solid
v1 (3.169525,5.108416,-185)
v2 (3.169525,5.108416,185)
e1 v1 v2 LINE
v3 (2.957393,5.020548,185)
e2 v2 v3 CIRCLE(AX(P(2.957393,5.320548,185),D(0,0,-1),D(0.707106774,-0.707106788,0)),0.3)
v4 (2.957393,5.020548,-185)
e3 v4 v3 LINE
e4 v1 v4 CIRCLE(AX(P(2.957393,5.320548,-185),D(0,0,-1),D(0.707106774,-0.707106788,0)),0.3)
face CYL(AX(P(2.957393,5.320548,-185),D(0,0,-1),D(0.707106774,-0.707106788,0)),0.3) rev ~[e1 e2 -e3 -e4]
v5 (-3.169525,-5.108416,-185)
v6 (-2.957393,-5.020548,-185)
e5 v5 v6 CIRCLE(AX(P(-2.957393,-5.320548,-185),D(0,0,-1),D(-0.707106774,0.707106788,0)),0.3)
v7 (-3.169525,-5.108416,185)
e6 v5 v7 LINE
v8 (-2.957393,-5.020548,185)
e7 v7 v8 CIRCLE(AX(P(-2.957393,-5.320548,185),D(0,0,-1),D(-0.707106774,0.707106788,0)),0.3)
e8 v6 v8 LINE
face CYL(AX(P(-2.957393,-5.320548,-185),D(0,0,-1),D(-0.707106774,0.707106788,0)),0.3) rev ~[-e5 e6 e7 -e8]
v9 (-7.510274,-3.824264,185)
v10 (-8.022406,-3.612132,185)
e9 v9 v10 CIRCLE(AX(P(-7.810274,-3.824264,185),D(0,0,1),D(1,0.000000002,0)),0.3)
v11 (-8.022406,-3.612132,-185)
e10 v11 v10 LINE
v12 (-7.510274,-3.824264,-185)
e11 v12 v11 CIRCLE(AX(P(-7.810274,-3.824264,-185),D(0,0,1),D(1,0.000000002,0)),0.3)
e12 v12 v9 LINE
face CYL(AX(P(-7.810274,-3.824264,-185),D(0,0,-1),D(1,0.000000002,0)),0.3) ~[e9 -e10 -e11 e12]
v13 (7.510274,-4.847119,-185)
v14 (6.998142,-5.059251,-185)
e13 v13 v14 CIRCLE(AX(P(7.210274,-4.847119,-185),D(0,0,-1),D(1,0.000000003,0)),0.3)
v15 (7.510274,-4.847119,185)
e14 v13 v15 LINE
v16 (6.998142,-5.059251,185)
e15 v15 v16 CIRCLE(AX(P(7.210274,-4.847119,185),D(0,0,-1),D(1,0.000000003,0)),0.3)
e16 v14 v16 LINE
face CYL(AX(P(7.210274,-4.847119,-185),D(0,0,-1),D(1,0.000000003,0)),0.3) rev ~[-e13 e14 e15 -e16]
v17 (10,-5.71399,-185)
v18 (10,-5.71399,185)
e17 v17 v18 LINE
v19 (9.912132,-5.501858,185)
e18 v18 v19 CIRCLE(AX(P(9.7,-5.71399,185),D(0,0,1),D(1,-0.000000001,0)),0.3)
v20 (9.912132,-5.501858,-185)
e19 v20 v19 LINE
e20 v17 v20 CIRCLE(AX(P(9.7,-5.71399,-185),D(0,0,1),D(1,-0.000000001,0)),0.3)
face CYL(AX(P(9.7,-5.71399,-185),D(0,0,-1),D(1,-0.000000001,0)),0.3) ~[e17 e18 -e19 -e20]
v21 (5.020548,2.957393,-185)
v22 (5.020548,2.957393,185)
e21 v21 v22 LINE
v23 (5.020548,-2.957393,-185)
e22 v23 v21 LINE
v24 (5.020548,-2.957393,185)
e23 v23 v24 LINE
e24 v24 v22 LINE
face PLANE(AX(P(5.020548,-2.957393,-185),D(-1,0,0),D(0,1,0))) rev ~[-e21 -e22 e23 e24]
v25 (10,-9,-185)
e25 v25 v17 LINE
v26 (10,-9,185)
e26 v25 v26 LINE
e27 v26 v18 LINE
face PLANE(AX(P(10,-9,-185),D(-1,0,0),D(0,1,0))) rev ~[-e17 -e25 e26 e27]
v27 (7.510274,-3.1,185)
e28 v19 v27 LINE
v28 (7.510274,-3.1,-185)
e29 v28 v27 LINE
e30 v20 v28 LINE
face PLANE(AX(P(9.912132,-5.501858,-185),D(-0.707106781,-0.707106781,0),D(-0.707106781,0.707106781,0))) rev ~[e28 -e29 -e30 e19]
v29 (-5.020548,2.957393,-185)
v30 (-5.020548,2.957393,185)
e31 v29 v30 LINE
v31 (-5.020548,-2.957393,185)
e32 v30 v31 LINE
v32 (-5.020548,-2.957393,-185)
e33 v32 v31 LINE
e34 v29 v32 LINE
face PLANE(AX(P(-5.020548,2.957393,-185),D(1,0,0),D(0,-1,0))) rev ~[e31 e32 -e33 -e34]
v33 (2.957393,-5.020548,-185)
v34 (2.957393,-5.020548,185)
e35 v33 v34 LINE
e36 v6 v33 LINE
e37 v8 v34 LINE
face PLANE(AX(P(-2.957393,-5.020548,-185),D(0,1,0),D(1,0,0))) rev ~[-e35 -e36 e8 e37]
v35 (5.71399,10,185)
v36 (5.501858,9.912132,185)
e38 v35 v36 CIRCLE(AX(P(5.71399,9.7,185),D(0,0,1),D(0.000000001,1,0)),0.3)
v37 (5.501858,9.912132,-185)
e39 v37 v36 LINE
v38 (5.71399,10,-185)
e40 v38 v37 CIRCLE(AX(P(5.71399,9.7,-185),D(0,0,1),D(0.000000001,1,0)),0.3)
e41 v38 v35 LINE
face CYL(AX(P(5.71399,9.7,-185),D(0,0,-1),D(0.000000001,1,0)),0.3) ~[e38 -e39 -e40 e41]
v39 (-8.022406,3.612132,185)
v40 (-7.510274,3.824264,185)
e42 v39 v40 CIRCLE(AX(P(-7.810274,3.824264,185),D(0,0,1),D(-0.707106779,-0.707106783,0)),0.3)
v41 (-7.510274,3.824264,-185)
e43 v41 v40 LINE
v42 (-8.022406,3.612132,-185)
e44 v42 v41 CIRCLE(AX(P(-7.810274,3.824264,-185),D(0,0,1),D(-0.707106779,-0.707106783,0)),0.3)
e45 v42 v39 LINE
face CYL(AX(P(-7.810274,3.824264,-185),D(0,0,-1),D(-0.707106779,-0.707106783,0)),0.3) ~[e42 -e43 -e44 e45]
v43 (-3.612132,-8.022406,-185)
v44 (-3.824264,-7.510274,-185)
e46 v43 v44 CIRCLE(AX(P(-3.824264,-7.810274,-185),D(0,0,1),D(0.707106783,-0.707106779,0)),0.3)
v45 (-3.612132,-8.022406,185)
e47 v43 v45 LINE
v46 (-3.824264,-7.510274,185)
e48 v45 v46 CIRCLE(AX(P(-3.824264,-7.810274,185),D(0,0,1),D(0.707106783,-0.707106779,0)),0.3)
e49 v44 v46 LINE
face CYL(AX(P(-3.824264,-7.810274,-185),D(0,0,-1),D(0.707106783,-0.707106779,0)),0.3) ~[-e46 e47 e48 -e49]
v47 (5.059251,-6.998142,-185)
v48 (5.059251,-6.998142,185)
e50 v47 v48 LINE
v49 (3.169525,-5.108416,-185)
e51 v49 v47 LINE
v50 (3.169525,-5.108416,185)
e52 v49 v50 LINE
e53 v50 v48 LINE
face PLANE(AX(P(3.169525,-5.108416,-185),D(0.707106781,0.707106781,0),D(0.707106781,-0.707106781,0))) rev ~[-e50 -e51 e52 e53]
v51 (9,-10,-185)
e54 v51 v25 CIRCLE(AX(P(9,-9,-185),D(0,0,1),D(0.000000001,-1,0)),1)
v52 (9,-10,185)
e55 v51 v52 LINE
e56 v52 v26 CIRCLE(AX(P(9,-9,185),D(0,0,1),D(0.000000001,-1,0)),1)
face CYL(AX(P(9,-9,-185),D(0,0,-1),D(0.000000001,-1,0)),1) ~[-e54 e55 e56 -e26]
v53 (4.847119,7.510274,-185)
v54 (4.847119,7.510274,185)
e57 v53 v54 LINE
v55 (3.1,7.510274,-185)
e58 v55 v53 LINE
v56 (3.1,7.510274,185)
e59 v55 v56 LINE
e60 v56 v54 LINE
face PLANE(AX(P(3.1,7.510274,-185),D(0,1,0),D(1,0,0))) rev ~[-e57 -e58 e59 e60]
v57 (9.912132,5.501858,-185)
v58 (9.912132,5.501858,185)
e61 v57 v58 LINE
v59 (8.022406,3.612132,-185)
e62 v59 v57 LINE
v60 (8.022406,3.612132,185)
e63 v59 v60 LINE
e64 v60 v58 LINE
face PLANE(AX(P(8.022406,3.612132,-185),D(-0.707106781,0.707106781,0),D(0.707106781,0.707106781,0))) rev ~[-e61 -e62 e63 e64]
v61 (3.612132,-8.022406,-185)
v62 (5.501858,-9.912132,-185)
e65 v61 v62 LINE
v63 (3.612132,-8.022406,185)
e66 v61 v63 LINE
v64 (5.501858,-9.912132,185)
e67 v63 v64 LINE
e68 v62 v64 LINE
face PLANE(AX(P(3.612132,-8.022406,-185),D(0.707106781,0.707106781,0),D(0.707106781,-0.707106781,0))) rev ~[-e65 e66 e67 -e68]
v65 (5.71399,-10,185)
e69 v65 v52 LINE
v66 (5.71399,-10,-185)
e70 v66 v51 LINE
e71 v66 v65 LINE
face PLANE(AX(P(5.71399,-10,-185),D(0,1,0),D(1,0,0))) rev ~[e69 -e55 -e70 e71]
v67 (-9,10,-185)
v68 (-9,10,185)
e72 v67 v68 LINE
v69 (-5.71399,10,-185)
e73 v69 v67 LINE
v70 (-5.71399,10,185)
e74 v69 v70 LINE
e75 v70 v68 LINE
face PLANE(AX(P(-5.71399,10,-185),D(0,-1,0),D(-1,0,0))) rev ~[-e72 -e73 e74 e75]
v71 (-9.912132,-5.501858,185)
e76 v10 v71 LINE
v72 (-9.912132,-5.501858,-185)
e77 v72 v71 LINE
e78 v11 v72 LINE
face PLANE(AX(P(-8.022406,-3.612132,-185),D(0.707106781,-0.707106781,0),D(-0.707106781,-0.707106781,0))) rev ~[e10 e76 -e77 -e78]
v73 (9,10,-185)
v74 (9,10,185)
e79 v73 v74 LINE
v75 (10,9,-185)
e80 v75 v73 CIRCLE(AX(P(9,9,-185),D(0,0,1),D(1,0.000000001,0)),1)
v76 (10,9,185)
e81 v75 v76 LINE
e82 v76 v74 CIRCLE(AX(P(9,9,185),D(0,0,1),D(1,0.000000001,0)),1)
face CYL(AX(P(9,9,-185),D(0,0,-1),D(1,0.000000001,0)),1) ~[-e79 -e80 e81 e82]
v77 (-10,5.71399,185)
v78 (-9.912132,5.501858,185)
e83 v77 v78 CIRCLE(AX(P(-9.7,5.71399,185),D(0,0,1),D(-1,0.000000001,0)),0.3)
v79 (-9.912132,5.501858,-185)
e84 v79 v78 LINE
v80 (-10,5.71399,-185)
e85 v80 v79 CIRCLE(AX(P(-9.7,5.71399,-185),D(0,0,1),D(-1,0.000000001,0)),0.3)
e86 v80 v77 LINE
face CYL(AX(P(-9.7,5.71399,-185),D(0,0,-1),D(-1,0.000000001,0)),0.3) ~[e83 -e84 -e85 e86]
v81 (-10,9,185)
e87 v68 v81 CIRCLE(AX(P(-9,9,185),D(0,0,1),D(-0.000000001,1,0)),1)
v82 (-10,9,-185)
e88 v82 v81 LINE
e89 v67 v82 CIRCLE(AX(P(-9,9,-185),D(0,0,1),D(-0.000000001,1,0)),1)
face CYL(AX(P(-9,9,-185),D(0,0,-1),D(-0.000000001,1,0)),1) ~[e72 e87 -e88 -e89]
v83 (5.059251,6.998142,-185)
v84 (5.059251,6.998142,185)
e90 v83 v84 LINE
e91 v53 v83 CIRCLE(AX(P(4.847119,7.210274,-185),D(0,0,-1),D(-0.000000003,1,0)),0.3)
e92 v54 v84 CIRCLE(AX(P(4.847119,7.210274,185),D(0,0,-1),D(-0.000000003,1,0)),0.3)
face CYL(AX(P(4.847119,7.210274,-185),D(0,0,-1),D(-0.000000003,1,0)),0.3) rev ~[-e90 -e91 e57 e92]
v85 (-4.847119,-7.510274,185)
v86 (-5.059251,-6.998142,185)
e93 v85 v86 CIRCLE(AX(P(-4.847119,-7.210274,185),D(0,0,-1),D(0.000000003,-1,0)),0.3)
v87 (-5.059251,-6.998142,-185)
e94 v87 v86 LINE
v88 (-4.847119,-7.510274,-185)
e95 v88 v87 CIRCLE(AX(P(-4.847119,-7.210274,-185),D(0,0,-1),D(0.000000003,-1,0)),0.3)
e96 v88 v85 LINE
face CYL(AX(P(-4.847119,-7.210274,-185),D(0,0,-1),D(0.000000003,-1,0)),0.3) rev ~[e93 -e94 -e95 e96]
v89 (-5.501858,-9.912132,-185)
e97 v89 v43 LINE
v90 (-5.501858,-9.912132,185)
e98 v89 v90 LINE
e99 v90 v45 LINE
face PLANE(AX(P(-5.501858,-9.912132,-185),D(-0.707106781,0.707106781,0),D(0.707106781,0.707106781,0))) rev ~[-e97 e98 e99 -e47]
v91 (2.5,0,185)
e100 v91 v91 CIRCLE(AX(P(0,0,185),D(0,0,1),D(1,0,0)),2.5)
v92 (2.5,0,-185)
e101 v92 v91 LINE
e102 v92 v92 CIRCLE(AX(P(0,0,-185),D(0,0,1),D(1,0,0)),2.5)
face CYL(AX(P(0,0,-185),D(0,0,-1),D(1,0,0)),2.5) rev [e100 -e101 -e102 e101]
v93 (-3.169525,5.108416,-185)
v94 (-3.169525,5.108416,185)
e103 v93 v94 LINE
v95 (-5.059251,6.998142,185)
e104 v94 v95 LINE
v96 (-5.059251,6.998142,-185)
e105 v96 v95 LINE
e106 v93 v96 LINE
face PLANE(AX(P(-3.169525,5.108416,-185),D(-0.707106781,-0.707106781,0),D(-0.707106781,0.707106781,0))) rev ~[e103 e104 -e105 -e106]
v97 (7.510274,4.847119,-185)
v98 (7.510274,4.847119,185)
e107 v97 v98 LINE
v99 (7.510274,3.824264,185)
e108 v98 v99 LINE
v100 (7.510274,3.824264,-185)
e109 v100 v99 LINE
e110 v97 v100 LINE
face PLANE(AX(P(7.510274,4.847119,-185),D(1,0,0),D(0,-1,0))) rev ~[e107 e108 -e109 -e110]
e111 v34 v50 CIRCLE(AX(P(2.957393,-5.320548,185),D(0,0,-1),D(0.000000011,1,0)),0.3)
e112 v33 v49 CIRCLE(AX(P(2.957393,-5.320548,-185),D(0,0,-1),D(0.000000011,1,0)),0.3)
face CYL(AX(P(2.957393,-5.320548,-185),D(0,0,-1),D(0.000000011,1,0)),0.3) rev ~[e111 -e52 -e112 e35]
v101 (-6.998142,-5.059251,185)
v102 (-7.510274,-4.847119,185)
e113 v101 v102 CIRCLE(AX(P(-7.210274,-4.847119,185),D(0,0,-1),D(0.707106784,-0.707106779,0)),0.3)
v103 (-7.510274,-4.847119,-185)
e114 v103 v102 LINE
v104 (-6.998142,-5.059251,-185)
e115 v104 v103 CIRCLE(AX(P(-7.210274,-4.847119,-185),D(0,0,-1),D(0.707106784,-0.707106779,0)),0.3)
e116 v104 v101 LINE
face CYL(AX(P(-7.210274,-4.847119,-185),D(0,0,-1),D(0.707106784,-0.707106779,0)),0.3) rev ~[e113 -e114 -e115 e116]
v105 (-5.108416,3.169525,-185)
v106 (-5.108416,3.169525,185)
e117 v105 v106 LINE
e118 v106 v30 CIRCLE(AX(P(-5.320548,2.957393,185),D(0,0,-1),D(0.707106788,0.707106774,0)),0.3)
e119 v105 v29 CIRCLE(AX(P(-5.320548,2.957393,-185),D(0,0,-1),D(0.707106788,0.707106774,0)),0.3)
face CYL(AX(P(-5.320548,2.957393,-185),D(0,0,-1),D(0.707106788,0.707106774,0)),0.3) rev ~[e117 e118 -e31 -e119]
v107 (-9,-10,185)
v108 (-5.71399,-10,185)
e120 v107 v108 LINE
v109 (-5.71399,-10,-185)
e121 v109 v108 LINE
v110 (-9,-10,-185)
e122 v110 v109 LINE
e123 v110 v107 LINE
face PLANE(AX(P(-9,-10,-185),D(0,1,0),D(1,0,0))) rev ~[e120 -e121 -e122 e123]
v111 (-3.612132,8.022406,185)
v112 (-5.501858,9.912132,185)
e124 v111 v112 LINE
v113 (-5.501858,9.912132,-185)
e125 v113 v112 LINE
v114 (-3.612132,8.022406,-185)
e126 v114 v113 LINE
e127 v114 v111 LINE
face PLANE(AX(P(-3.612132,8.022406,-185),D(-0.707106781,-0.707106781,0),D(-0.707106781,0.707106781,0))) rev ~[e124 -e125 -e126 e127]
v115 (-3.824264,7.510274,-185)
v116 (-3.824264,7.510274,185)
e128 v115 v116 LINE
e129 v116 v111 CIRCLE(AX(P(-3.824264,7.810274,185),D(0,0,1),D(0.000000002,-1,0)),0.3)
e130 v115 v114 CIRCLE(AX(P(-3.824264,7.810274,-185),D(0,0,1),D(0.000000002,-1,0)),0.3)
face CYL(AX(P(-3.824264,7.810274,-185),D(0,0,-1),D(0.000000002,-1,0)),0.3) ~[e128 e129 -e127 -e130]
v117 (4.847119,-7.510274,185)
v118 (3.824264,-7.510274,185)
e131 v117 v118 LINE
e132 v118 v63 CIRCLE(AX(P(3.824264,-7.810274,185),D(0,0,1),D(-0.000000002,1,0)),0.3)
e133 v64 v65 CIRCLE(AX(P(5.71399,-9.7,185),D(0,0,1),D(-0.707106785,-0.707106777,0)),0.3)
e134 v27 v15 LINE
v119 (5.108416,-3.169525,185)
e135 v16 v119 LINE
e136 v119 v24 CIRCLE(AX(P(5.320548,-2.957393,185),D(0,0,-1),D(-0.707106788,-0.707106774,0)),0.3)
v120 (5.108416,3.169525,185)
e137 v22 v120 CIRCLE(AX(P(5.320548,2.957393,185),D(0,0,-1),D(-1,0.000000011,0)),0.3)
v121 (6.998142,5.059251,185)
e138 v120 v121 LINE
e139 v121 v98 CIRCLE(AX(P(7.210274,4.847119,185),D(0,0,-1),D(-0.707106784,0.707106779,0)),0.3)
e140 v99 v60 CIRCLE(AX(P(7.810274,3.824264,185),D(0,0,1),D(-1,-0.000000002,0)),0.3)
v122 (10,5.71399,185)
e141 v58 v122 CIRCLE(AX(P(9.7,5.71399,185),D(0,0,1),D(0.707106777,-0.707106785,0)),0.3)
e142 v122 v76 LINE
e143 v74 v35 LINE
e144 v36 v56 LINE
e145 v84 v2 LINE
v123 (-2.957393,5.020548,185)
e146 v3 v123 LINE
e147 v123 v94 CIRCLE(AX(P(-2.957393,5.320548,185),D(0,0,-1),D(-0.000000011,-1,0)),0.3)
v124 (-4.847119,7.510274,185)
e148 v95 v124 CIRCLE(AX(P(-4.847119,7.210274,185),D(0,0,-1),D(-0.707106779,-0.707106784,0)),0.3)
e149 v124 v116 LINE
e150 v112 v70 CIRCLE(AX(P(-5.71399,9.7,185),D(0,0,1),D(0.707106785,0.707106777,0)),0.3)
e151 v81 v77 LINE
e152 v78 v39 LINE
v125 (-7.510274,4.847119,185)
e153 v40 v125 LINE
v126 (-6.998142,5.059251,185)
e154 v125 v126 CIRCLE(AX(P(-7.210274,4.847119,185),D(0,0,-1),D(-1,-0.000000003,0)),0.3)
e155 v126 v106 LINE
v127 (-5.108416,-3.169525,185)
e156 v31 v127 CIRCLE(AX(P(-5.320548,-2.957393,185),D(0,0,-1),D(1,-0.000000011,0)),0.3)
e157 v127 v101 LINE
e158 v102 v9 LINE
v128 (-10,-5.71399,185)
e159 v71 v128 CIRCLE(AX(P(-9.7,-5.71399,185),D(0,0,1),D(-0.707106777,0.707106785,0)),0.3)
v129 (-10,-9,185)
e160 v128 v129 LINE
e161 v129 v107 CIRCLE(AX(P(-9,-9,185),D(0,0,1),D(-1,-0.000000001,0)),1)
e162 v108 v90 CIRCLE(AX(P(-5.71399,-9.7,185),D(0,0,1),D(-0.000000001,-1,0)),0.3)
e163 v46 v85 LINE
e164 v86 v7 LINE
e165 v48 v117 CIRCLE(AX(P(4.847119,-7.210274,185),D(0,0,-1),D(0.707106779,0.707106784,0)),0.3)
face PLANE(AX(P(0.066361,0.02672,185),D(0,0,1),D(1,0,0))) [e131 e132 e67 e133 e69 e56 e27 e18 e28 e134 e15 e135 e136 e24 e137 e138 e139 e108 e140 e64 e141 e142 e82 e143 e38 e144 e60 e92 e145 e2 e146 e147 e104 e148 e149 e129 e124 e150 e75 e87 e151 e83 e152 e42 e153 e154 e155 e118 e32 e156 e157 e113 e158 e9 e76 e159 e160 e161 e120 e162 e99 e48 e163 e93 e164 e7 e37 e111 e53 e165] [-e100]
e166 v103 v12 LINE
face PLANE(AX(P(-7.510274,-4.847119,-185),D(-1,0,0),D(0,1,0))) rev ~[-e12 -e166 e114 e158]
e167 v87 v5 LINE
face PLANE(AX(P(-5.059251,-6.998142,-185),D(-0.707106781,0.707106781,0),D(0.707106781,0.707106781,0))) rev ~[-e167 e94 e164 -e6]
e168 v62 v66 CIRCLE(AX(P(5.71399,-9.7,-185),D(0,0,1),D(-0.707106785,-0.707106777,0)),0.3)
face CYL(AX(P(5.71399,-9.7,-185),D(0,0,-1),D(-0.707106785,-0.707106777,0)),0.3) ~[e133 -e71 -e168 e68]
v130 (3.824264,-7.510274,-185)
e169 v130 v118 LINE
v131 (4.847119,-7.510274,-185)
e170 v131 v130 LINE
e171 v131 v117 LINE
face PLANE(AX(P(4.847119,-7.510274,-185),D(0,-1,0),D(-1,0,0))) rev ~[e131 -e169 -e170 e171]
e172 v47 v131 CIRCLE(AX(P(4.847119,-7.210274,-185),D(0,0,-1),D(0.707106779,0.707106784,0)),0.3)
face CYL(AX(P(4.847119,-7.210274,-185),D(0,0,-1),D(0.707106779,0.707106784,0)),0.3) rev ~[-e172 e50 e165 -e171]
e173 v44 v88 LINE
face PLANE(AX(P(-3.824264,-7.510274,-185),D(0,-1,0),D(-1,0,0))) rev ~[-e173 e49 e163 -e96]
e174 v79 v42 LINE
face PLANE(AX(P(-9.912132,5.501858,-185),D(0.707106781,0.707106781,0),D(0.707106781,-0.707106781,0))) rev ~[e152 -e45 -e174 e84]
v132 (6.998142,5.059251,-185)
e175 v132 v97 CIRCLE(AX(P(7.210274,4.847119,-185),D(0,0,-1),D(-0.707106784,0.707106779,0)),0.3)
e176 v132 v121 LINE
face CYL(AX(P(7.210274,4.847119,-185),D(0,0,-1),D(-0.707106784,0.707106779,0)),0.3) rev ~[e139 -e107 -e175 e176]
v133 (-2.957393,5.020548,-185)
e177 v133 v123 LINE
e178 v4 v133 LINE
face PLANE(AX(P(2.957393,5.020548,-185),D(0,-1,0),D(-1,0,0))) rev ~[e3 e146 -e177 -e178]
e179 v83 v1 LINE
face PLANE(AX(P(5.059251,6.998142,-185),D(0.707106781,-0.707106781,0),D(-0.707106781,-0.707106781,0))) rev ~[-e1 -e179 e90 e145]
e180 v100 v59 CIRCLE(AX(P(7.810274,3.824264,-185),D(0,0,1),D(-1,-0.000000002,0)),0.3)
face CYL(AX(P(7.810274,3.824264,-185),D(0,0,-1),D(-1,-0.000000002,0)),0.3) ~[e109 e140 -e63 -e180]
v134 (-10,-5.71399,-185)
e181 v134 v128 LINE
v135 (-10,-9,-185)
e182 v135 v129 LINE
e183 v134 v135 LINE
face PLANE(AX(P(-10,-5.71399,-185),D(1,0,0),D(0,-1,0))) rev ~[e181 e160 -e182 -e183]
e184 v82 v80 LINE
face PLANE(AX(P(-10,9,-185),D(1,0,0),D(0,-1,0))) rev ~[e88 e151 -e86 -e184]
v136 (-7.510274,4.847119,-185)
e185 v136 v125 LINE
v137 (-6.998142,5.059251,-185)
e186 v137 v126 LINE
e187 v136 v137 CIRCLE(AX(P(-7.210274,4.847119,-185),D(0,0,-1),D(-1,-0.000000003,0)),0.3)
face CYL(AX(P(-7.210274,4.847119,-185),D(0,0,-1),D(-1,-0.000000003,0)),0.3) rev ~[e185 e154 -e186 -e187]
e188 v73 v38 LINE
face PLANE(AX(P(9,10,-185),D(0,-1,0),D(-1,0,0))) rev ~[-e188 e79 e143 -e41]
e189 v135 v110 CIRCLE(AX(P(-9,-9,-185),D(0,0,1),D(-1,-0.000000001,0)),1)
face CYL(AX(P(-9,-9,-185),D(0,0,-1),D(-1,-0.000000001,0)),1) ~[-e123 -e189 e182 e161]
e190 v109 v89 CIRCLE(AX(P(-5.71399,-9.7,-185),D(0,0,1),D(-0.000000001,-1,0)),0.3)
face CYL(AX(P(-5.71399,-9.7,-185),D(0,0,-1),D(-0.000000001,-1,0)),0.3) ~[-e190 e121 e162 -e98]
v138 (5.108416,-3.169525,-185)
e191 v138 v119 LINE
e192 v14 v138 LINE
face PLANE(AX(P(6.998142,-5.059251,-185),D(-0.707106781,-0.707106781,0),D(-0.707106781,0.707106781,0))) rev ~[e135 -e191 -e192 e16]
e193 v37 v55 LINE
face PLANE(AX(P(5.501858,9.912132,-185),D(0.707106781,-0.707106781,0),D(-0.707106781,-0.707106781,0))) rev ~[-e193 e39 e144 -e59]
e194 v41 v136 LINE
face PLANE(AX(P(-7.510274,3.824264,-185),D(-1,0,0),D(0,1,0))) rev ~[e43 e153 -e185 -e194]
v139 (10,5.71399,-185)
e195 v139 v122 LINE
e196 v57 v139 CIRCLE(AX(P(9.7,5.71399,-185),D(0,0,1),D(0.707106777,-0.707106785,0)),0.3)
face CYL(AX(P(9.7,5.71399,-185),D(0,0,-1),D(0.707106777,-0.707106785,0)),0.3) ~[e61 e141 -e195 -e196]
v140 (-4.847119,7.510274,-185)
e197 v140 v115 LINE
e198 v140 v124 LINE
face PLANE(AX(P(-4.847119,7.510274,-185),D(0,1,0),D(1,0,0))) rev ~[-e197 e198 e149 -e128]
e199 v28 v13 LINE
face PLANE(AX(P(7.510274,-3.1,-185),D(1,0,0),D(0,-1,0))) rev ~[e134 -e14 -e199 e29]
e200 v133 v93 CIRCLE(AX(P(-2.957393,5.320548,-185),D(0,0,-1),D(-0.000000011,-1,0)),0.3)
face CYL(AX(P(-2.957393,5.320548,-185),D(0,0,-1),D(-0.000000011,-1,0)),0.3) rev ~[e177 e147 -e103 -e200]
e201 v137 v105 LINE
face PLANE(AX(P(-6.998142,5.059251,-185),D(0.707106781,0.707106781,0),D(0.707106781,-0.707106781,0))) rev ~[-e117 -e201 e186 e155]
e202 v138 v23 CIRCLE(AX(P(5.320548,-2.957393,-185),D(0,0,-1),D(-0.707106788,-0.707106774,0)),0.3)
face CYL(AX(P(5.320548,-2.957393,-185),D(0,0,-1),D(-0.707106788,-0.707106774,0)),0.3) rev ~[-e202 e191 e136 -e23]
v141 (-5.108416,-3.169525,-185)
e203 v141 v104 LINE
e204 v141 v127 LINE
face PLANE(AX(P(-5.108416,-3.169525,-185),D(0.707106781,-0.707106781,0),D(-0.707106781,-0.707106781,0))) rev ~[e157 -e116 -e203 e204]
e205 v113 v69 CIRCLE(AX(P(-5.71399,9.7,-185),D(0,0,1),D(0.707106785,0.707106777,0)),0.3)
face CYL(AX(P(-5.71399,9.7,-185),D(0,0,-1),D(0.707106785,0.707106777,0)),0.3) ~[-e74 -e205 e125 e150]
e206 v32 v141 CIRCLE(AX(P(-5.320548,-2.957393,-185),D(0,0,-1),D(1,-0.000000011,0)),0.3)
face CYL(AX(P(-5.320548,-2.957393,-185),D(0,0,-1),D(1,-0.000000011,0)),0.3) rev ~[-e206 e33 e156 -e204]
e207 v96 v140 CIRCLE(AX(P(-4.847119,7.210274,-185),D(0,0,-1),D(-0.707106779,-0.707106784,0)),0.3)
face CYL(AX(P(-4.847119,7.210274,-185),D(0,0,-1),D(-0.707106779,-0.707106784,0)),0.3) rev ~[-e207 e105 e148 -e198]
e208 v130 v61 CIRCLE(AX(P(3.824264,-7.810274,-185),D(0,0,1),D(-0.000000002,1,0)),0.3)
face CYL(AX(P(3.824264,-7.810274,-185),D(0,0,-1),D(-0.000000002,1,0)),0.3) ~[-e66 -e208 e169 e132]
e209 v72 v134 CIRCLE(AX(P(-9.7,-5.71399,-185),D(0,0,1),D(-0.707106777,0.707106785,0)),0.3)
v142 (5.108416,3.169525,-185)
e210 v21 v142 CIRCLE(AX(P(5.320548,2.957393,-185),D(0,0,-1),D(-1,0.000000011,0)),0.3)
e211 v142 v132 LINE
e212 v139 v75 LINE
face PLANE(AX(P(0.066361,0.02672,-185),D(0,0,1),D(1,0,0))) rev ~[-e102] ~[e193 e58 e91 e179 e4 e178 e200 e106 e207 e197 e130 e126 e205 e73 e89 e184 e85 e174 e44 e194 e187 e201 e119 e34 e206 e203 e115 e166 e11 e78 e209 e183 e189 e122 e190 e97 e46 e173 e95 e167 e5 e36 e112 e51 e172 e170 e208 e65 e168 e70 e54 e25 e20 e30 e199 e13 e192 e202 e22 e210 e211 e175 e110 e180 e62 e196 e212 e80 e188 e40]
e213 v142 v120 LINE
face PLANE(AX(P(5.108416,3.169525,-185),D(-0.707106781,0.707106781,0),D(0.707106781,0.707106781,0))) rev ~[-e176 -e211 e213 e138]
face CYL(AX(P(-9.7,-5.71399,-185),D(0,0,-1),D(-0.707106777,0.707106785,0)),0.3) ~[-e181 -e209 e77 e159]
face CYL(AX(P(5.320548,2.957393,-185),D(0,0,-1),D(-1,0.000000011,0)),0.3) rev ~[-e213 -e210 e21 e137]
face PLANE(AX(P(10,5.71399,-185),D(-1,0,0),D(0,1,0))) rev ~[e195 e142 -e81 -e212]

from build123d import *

# Parameters (mm, degrees)
CROQUIS11_R                = 2.5
MIEMBRO_ESTRUCTURAL1_DEPTH = 370


with BuildPart() as part:
    # Croquis11 → Miembro estructural1 (new body)
    with BuildSketch(Plane.XY.offset(-185)):
        with BuildLine():
            Line((-9, -10), (-5.713990218, -10))
            ThreePointArc((-5.713990218, -10), (-5.599185189, -9.97716386), (-5.501858184, -9.912132034))
            Line((-5.501858184, -9.912132034), (-3.612132034, -8.022405885))
            ThreePointArc((-3.612132034, -8.022405885), (-3.547100209, -7.695468821), (-3.824264069, -7.51027385))
            Line((-3.824264069, -7.51027385), (-4.847118775, -7.51027385))
            ThreePointArc((-4.847118775, -7.51027385), (-5.124282635, -7.32507888), (-5.059250809, -6.998141816))
            Line((-5.059250809, -6.998141816), (-3.16952466, -5.108415666))
            ThreePointArc((-3.16952466, -5.108415666), (-3.072197655, -5.043383841), (-2.957392625, -5.0205477))
            Line((-2.957392625, -5.0205477), (2.957392625, -5.0205477))
            ThreePointArc((2.957392625, -5.0205477), (3.072197655, -5.043383841), (3.16952466, -5.108415666))
            Line((3.16952466, -5.108415666), (5.059250809, -6.998141816))
            ThreePointArc((5.059250809, -6.998141816), (5.124282635, -7.32507888), (4.847118775, -7.51027385))
            Line((4.847118775, -7.51027385), (3.824264069, -7.51027385))
            ThreePointArc((3.824264069, -7.51027385), (3.547100209, -7.695468821), (3.612132034, -8.022405885))
            Line((3.612132034, -8.022405885), (5.501858184, -9.912132034))
            ThreePointArc((5.501858184, -9.912132034), (5.599185189, -9.97716386), (5.713990218, -10))
            Line((5.713990218, -10), (9, -10))
            ThreePointArc((9, -10), (9.707106781, -9.707106781), (10, -9))
            Line((10, -9), (10, -5.713990218))
            ThreePointArc((10, -5.713990218), (9.97716386, -5.599185189), (9.912132034, -5.501858184))
            Line((9.912132034, -5.501858184), (7.51027385, -3.1))
            Line((7.51027385, -3.1), (7.51027385, -4.847118775))
            ThreePointArc((7.51027385, -4.847118775), (7.32507888, -5.124282635), (6.998141816, -5.059250809))
            Line((6.998141816, -5.059250809), (5.108415666, -3.16952466))
            ThreePointArc((5.108415666, -3.16952466), (5.043383841, -3.072197655), (5.0205477, -2.957392625))
            Line((5.0205477, -2.957392625), (5.0205477, 2.957392625))
            ThreePointArc((5.0205477, 2.957392625), (5.043383841, 3.072197655), (5.108415666, 3.16952466))
            Line((5.108415666, 3.16952466), (6.998141816, 5.059250809))
            ThreePointArc((6.998141816, 5.059250809), (7.32507888, 5.124282635), (7.51027385, 4.847118775))
            Line((7.51027385, 4.847118775), (7.51027385, 3.824264069))
            ThreePointArc((7.51027385, 3.824264069), (7.695468821, 3.547100209), (8.022405885, 3.612132034))
            Line((8.022405885, 3.612132034), (9.912132034, 5.501858184))
            ThreePointArc((9.912132034, 5.501858184), (9.97716386, 5.599185189), (10, 5.713990218))
            Line((10, 5.713990218), (10, 9))
            ThreePointArc((10, 9), (9.707106781, 9.707106781), (9, 10))
            Line((9, 10), (5.713990218, 10))
            ThreePointArc((5.713990218, 10), (5.599185189, 9.97716386), (5.501858184, 9.912132034))
            Line((5.501858184, 9.912132034), (3.1, 7.51027385))
            Line((3.1, 7.51027385), (4.847118775, 7.51027385))
            ThreePointArc((4.847118775, 7.51027385), (5.124282635, 7.32507888), (5.059250809, 6.998141816))
            Line((5.059250809, 6.998141816), (3.16952466, 5.108415666))
            ThreePointArc((3.16952466, 5.108415666), (3.072197655, 5.043383841), (2.957392625, 5.0205477))
            Line((2.957392625, 5.0205477), (-2.957392625, 5.0205477))
            ThreePointArc((-2.957392625, 5.0205477), (-3.072197655, 5.043383841), (-3.16952466, 5.108415666))
            Line((-3.16952466, 5.108415666), (-5.059250809, 6.998141816))
            ThreePointArc((-5.059250809, 6.998141816), (-5.124282635, 7.32507888), (-4.847118775, 7.51027385))
            Line((-4.847118775, 7.51027385), (-3.824264069, 7.51027385))
            ThreePointArc((-3.824264069, 7.51027385), (-3.547100209, 7.695468821), (-3.612132034, 8.022405885))
            Line((-3.612132034, 8.022405885), (-5.501858184, 9.912132034))
            ThreePointArc((-5.501858184, 9.912132034), (-5.599185189, 9.97716386), (-5.713990218, 10))
            Line((-5.713990218, 10), (-9, 10))
            ThreePointArc((-9, 10), (-9.707106781, 9.707106781), (-10, 9))
            Line((-10, 9), (-10, 5.713990218))
            ThreePointArc((-10, 5.713990218), (-9.97716386, 5.599185189), (-9.912132034, 5.501858184))
            Line((-9.912132034, 5.501858184), (-8.022405885, 3.612132034))
            ThreePointArc((-8.022405885, 3.612132034), (-7.695468821, 3.547100209), (-7.51027385, 3.824264069))
            Line((-7.51027385, 3.824264069), (-7.51027385, 4.847118775))
            ThreePointArc((-7.51027385, 4.847118775), (-7.32507888, 5.124282635), (-6.998141816, 5.059250809))
            Line((-6.998141816, 5.059250809), (-5.108415666, 3.16952466))
            ThreePointArc((-5.108415666, 3.16952466), (-5.043383841, 3.072197655), (-5.0205477, 2.957392625))
            Line((-5.0205477, 2.957392625), (-5.0205477, -2.957392625))
            ThreePointArc((-5.0205477, -2.957392625), (-5.043383841, -3.072197655), (-5.108415666, -3.16952466))
            Line((-5.108415666, -3.16952466), (-6.998141816, -5.059250809))
            ThreePointArc((-6.998141816, -5.059250809), (-7.32507888, -5.124282635), (-7.51027385, -4.847118775))
            Line((-7.51027385, -4.847118775), (-7.51027385, -3.824264069))
            ThreePointArc((-7.51027385, -3.824264069), (-7.695468821, -3.547100209), (-8.022405885, -3.612132034))
            Line((-8.022405885, -3.612132034), (-9.912132034, -5.501858184))
            ThreePointArc((-9.912132034, -5.501858184), (-9.97716386, -5.599185189), (-10, -5.713990218))
            Line((-10, -5.713990218), (-10, -9))
            ThreePointArc((-10, -9), (-9.707106781, -9.707106781), (-9, -10))
        make_face()
        Circle(CROQUIS11_R, mode=Mode.SUBTRACT)
    extrude(amount=MIEMBRO_ESTRUCTURAL1_DEPTH)


solid = part.part
